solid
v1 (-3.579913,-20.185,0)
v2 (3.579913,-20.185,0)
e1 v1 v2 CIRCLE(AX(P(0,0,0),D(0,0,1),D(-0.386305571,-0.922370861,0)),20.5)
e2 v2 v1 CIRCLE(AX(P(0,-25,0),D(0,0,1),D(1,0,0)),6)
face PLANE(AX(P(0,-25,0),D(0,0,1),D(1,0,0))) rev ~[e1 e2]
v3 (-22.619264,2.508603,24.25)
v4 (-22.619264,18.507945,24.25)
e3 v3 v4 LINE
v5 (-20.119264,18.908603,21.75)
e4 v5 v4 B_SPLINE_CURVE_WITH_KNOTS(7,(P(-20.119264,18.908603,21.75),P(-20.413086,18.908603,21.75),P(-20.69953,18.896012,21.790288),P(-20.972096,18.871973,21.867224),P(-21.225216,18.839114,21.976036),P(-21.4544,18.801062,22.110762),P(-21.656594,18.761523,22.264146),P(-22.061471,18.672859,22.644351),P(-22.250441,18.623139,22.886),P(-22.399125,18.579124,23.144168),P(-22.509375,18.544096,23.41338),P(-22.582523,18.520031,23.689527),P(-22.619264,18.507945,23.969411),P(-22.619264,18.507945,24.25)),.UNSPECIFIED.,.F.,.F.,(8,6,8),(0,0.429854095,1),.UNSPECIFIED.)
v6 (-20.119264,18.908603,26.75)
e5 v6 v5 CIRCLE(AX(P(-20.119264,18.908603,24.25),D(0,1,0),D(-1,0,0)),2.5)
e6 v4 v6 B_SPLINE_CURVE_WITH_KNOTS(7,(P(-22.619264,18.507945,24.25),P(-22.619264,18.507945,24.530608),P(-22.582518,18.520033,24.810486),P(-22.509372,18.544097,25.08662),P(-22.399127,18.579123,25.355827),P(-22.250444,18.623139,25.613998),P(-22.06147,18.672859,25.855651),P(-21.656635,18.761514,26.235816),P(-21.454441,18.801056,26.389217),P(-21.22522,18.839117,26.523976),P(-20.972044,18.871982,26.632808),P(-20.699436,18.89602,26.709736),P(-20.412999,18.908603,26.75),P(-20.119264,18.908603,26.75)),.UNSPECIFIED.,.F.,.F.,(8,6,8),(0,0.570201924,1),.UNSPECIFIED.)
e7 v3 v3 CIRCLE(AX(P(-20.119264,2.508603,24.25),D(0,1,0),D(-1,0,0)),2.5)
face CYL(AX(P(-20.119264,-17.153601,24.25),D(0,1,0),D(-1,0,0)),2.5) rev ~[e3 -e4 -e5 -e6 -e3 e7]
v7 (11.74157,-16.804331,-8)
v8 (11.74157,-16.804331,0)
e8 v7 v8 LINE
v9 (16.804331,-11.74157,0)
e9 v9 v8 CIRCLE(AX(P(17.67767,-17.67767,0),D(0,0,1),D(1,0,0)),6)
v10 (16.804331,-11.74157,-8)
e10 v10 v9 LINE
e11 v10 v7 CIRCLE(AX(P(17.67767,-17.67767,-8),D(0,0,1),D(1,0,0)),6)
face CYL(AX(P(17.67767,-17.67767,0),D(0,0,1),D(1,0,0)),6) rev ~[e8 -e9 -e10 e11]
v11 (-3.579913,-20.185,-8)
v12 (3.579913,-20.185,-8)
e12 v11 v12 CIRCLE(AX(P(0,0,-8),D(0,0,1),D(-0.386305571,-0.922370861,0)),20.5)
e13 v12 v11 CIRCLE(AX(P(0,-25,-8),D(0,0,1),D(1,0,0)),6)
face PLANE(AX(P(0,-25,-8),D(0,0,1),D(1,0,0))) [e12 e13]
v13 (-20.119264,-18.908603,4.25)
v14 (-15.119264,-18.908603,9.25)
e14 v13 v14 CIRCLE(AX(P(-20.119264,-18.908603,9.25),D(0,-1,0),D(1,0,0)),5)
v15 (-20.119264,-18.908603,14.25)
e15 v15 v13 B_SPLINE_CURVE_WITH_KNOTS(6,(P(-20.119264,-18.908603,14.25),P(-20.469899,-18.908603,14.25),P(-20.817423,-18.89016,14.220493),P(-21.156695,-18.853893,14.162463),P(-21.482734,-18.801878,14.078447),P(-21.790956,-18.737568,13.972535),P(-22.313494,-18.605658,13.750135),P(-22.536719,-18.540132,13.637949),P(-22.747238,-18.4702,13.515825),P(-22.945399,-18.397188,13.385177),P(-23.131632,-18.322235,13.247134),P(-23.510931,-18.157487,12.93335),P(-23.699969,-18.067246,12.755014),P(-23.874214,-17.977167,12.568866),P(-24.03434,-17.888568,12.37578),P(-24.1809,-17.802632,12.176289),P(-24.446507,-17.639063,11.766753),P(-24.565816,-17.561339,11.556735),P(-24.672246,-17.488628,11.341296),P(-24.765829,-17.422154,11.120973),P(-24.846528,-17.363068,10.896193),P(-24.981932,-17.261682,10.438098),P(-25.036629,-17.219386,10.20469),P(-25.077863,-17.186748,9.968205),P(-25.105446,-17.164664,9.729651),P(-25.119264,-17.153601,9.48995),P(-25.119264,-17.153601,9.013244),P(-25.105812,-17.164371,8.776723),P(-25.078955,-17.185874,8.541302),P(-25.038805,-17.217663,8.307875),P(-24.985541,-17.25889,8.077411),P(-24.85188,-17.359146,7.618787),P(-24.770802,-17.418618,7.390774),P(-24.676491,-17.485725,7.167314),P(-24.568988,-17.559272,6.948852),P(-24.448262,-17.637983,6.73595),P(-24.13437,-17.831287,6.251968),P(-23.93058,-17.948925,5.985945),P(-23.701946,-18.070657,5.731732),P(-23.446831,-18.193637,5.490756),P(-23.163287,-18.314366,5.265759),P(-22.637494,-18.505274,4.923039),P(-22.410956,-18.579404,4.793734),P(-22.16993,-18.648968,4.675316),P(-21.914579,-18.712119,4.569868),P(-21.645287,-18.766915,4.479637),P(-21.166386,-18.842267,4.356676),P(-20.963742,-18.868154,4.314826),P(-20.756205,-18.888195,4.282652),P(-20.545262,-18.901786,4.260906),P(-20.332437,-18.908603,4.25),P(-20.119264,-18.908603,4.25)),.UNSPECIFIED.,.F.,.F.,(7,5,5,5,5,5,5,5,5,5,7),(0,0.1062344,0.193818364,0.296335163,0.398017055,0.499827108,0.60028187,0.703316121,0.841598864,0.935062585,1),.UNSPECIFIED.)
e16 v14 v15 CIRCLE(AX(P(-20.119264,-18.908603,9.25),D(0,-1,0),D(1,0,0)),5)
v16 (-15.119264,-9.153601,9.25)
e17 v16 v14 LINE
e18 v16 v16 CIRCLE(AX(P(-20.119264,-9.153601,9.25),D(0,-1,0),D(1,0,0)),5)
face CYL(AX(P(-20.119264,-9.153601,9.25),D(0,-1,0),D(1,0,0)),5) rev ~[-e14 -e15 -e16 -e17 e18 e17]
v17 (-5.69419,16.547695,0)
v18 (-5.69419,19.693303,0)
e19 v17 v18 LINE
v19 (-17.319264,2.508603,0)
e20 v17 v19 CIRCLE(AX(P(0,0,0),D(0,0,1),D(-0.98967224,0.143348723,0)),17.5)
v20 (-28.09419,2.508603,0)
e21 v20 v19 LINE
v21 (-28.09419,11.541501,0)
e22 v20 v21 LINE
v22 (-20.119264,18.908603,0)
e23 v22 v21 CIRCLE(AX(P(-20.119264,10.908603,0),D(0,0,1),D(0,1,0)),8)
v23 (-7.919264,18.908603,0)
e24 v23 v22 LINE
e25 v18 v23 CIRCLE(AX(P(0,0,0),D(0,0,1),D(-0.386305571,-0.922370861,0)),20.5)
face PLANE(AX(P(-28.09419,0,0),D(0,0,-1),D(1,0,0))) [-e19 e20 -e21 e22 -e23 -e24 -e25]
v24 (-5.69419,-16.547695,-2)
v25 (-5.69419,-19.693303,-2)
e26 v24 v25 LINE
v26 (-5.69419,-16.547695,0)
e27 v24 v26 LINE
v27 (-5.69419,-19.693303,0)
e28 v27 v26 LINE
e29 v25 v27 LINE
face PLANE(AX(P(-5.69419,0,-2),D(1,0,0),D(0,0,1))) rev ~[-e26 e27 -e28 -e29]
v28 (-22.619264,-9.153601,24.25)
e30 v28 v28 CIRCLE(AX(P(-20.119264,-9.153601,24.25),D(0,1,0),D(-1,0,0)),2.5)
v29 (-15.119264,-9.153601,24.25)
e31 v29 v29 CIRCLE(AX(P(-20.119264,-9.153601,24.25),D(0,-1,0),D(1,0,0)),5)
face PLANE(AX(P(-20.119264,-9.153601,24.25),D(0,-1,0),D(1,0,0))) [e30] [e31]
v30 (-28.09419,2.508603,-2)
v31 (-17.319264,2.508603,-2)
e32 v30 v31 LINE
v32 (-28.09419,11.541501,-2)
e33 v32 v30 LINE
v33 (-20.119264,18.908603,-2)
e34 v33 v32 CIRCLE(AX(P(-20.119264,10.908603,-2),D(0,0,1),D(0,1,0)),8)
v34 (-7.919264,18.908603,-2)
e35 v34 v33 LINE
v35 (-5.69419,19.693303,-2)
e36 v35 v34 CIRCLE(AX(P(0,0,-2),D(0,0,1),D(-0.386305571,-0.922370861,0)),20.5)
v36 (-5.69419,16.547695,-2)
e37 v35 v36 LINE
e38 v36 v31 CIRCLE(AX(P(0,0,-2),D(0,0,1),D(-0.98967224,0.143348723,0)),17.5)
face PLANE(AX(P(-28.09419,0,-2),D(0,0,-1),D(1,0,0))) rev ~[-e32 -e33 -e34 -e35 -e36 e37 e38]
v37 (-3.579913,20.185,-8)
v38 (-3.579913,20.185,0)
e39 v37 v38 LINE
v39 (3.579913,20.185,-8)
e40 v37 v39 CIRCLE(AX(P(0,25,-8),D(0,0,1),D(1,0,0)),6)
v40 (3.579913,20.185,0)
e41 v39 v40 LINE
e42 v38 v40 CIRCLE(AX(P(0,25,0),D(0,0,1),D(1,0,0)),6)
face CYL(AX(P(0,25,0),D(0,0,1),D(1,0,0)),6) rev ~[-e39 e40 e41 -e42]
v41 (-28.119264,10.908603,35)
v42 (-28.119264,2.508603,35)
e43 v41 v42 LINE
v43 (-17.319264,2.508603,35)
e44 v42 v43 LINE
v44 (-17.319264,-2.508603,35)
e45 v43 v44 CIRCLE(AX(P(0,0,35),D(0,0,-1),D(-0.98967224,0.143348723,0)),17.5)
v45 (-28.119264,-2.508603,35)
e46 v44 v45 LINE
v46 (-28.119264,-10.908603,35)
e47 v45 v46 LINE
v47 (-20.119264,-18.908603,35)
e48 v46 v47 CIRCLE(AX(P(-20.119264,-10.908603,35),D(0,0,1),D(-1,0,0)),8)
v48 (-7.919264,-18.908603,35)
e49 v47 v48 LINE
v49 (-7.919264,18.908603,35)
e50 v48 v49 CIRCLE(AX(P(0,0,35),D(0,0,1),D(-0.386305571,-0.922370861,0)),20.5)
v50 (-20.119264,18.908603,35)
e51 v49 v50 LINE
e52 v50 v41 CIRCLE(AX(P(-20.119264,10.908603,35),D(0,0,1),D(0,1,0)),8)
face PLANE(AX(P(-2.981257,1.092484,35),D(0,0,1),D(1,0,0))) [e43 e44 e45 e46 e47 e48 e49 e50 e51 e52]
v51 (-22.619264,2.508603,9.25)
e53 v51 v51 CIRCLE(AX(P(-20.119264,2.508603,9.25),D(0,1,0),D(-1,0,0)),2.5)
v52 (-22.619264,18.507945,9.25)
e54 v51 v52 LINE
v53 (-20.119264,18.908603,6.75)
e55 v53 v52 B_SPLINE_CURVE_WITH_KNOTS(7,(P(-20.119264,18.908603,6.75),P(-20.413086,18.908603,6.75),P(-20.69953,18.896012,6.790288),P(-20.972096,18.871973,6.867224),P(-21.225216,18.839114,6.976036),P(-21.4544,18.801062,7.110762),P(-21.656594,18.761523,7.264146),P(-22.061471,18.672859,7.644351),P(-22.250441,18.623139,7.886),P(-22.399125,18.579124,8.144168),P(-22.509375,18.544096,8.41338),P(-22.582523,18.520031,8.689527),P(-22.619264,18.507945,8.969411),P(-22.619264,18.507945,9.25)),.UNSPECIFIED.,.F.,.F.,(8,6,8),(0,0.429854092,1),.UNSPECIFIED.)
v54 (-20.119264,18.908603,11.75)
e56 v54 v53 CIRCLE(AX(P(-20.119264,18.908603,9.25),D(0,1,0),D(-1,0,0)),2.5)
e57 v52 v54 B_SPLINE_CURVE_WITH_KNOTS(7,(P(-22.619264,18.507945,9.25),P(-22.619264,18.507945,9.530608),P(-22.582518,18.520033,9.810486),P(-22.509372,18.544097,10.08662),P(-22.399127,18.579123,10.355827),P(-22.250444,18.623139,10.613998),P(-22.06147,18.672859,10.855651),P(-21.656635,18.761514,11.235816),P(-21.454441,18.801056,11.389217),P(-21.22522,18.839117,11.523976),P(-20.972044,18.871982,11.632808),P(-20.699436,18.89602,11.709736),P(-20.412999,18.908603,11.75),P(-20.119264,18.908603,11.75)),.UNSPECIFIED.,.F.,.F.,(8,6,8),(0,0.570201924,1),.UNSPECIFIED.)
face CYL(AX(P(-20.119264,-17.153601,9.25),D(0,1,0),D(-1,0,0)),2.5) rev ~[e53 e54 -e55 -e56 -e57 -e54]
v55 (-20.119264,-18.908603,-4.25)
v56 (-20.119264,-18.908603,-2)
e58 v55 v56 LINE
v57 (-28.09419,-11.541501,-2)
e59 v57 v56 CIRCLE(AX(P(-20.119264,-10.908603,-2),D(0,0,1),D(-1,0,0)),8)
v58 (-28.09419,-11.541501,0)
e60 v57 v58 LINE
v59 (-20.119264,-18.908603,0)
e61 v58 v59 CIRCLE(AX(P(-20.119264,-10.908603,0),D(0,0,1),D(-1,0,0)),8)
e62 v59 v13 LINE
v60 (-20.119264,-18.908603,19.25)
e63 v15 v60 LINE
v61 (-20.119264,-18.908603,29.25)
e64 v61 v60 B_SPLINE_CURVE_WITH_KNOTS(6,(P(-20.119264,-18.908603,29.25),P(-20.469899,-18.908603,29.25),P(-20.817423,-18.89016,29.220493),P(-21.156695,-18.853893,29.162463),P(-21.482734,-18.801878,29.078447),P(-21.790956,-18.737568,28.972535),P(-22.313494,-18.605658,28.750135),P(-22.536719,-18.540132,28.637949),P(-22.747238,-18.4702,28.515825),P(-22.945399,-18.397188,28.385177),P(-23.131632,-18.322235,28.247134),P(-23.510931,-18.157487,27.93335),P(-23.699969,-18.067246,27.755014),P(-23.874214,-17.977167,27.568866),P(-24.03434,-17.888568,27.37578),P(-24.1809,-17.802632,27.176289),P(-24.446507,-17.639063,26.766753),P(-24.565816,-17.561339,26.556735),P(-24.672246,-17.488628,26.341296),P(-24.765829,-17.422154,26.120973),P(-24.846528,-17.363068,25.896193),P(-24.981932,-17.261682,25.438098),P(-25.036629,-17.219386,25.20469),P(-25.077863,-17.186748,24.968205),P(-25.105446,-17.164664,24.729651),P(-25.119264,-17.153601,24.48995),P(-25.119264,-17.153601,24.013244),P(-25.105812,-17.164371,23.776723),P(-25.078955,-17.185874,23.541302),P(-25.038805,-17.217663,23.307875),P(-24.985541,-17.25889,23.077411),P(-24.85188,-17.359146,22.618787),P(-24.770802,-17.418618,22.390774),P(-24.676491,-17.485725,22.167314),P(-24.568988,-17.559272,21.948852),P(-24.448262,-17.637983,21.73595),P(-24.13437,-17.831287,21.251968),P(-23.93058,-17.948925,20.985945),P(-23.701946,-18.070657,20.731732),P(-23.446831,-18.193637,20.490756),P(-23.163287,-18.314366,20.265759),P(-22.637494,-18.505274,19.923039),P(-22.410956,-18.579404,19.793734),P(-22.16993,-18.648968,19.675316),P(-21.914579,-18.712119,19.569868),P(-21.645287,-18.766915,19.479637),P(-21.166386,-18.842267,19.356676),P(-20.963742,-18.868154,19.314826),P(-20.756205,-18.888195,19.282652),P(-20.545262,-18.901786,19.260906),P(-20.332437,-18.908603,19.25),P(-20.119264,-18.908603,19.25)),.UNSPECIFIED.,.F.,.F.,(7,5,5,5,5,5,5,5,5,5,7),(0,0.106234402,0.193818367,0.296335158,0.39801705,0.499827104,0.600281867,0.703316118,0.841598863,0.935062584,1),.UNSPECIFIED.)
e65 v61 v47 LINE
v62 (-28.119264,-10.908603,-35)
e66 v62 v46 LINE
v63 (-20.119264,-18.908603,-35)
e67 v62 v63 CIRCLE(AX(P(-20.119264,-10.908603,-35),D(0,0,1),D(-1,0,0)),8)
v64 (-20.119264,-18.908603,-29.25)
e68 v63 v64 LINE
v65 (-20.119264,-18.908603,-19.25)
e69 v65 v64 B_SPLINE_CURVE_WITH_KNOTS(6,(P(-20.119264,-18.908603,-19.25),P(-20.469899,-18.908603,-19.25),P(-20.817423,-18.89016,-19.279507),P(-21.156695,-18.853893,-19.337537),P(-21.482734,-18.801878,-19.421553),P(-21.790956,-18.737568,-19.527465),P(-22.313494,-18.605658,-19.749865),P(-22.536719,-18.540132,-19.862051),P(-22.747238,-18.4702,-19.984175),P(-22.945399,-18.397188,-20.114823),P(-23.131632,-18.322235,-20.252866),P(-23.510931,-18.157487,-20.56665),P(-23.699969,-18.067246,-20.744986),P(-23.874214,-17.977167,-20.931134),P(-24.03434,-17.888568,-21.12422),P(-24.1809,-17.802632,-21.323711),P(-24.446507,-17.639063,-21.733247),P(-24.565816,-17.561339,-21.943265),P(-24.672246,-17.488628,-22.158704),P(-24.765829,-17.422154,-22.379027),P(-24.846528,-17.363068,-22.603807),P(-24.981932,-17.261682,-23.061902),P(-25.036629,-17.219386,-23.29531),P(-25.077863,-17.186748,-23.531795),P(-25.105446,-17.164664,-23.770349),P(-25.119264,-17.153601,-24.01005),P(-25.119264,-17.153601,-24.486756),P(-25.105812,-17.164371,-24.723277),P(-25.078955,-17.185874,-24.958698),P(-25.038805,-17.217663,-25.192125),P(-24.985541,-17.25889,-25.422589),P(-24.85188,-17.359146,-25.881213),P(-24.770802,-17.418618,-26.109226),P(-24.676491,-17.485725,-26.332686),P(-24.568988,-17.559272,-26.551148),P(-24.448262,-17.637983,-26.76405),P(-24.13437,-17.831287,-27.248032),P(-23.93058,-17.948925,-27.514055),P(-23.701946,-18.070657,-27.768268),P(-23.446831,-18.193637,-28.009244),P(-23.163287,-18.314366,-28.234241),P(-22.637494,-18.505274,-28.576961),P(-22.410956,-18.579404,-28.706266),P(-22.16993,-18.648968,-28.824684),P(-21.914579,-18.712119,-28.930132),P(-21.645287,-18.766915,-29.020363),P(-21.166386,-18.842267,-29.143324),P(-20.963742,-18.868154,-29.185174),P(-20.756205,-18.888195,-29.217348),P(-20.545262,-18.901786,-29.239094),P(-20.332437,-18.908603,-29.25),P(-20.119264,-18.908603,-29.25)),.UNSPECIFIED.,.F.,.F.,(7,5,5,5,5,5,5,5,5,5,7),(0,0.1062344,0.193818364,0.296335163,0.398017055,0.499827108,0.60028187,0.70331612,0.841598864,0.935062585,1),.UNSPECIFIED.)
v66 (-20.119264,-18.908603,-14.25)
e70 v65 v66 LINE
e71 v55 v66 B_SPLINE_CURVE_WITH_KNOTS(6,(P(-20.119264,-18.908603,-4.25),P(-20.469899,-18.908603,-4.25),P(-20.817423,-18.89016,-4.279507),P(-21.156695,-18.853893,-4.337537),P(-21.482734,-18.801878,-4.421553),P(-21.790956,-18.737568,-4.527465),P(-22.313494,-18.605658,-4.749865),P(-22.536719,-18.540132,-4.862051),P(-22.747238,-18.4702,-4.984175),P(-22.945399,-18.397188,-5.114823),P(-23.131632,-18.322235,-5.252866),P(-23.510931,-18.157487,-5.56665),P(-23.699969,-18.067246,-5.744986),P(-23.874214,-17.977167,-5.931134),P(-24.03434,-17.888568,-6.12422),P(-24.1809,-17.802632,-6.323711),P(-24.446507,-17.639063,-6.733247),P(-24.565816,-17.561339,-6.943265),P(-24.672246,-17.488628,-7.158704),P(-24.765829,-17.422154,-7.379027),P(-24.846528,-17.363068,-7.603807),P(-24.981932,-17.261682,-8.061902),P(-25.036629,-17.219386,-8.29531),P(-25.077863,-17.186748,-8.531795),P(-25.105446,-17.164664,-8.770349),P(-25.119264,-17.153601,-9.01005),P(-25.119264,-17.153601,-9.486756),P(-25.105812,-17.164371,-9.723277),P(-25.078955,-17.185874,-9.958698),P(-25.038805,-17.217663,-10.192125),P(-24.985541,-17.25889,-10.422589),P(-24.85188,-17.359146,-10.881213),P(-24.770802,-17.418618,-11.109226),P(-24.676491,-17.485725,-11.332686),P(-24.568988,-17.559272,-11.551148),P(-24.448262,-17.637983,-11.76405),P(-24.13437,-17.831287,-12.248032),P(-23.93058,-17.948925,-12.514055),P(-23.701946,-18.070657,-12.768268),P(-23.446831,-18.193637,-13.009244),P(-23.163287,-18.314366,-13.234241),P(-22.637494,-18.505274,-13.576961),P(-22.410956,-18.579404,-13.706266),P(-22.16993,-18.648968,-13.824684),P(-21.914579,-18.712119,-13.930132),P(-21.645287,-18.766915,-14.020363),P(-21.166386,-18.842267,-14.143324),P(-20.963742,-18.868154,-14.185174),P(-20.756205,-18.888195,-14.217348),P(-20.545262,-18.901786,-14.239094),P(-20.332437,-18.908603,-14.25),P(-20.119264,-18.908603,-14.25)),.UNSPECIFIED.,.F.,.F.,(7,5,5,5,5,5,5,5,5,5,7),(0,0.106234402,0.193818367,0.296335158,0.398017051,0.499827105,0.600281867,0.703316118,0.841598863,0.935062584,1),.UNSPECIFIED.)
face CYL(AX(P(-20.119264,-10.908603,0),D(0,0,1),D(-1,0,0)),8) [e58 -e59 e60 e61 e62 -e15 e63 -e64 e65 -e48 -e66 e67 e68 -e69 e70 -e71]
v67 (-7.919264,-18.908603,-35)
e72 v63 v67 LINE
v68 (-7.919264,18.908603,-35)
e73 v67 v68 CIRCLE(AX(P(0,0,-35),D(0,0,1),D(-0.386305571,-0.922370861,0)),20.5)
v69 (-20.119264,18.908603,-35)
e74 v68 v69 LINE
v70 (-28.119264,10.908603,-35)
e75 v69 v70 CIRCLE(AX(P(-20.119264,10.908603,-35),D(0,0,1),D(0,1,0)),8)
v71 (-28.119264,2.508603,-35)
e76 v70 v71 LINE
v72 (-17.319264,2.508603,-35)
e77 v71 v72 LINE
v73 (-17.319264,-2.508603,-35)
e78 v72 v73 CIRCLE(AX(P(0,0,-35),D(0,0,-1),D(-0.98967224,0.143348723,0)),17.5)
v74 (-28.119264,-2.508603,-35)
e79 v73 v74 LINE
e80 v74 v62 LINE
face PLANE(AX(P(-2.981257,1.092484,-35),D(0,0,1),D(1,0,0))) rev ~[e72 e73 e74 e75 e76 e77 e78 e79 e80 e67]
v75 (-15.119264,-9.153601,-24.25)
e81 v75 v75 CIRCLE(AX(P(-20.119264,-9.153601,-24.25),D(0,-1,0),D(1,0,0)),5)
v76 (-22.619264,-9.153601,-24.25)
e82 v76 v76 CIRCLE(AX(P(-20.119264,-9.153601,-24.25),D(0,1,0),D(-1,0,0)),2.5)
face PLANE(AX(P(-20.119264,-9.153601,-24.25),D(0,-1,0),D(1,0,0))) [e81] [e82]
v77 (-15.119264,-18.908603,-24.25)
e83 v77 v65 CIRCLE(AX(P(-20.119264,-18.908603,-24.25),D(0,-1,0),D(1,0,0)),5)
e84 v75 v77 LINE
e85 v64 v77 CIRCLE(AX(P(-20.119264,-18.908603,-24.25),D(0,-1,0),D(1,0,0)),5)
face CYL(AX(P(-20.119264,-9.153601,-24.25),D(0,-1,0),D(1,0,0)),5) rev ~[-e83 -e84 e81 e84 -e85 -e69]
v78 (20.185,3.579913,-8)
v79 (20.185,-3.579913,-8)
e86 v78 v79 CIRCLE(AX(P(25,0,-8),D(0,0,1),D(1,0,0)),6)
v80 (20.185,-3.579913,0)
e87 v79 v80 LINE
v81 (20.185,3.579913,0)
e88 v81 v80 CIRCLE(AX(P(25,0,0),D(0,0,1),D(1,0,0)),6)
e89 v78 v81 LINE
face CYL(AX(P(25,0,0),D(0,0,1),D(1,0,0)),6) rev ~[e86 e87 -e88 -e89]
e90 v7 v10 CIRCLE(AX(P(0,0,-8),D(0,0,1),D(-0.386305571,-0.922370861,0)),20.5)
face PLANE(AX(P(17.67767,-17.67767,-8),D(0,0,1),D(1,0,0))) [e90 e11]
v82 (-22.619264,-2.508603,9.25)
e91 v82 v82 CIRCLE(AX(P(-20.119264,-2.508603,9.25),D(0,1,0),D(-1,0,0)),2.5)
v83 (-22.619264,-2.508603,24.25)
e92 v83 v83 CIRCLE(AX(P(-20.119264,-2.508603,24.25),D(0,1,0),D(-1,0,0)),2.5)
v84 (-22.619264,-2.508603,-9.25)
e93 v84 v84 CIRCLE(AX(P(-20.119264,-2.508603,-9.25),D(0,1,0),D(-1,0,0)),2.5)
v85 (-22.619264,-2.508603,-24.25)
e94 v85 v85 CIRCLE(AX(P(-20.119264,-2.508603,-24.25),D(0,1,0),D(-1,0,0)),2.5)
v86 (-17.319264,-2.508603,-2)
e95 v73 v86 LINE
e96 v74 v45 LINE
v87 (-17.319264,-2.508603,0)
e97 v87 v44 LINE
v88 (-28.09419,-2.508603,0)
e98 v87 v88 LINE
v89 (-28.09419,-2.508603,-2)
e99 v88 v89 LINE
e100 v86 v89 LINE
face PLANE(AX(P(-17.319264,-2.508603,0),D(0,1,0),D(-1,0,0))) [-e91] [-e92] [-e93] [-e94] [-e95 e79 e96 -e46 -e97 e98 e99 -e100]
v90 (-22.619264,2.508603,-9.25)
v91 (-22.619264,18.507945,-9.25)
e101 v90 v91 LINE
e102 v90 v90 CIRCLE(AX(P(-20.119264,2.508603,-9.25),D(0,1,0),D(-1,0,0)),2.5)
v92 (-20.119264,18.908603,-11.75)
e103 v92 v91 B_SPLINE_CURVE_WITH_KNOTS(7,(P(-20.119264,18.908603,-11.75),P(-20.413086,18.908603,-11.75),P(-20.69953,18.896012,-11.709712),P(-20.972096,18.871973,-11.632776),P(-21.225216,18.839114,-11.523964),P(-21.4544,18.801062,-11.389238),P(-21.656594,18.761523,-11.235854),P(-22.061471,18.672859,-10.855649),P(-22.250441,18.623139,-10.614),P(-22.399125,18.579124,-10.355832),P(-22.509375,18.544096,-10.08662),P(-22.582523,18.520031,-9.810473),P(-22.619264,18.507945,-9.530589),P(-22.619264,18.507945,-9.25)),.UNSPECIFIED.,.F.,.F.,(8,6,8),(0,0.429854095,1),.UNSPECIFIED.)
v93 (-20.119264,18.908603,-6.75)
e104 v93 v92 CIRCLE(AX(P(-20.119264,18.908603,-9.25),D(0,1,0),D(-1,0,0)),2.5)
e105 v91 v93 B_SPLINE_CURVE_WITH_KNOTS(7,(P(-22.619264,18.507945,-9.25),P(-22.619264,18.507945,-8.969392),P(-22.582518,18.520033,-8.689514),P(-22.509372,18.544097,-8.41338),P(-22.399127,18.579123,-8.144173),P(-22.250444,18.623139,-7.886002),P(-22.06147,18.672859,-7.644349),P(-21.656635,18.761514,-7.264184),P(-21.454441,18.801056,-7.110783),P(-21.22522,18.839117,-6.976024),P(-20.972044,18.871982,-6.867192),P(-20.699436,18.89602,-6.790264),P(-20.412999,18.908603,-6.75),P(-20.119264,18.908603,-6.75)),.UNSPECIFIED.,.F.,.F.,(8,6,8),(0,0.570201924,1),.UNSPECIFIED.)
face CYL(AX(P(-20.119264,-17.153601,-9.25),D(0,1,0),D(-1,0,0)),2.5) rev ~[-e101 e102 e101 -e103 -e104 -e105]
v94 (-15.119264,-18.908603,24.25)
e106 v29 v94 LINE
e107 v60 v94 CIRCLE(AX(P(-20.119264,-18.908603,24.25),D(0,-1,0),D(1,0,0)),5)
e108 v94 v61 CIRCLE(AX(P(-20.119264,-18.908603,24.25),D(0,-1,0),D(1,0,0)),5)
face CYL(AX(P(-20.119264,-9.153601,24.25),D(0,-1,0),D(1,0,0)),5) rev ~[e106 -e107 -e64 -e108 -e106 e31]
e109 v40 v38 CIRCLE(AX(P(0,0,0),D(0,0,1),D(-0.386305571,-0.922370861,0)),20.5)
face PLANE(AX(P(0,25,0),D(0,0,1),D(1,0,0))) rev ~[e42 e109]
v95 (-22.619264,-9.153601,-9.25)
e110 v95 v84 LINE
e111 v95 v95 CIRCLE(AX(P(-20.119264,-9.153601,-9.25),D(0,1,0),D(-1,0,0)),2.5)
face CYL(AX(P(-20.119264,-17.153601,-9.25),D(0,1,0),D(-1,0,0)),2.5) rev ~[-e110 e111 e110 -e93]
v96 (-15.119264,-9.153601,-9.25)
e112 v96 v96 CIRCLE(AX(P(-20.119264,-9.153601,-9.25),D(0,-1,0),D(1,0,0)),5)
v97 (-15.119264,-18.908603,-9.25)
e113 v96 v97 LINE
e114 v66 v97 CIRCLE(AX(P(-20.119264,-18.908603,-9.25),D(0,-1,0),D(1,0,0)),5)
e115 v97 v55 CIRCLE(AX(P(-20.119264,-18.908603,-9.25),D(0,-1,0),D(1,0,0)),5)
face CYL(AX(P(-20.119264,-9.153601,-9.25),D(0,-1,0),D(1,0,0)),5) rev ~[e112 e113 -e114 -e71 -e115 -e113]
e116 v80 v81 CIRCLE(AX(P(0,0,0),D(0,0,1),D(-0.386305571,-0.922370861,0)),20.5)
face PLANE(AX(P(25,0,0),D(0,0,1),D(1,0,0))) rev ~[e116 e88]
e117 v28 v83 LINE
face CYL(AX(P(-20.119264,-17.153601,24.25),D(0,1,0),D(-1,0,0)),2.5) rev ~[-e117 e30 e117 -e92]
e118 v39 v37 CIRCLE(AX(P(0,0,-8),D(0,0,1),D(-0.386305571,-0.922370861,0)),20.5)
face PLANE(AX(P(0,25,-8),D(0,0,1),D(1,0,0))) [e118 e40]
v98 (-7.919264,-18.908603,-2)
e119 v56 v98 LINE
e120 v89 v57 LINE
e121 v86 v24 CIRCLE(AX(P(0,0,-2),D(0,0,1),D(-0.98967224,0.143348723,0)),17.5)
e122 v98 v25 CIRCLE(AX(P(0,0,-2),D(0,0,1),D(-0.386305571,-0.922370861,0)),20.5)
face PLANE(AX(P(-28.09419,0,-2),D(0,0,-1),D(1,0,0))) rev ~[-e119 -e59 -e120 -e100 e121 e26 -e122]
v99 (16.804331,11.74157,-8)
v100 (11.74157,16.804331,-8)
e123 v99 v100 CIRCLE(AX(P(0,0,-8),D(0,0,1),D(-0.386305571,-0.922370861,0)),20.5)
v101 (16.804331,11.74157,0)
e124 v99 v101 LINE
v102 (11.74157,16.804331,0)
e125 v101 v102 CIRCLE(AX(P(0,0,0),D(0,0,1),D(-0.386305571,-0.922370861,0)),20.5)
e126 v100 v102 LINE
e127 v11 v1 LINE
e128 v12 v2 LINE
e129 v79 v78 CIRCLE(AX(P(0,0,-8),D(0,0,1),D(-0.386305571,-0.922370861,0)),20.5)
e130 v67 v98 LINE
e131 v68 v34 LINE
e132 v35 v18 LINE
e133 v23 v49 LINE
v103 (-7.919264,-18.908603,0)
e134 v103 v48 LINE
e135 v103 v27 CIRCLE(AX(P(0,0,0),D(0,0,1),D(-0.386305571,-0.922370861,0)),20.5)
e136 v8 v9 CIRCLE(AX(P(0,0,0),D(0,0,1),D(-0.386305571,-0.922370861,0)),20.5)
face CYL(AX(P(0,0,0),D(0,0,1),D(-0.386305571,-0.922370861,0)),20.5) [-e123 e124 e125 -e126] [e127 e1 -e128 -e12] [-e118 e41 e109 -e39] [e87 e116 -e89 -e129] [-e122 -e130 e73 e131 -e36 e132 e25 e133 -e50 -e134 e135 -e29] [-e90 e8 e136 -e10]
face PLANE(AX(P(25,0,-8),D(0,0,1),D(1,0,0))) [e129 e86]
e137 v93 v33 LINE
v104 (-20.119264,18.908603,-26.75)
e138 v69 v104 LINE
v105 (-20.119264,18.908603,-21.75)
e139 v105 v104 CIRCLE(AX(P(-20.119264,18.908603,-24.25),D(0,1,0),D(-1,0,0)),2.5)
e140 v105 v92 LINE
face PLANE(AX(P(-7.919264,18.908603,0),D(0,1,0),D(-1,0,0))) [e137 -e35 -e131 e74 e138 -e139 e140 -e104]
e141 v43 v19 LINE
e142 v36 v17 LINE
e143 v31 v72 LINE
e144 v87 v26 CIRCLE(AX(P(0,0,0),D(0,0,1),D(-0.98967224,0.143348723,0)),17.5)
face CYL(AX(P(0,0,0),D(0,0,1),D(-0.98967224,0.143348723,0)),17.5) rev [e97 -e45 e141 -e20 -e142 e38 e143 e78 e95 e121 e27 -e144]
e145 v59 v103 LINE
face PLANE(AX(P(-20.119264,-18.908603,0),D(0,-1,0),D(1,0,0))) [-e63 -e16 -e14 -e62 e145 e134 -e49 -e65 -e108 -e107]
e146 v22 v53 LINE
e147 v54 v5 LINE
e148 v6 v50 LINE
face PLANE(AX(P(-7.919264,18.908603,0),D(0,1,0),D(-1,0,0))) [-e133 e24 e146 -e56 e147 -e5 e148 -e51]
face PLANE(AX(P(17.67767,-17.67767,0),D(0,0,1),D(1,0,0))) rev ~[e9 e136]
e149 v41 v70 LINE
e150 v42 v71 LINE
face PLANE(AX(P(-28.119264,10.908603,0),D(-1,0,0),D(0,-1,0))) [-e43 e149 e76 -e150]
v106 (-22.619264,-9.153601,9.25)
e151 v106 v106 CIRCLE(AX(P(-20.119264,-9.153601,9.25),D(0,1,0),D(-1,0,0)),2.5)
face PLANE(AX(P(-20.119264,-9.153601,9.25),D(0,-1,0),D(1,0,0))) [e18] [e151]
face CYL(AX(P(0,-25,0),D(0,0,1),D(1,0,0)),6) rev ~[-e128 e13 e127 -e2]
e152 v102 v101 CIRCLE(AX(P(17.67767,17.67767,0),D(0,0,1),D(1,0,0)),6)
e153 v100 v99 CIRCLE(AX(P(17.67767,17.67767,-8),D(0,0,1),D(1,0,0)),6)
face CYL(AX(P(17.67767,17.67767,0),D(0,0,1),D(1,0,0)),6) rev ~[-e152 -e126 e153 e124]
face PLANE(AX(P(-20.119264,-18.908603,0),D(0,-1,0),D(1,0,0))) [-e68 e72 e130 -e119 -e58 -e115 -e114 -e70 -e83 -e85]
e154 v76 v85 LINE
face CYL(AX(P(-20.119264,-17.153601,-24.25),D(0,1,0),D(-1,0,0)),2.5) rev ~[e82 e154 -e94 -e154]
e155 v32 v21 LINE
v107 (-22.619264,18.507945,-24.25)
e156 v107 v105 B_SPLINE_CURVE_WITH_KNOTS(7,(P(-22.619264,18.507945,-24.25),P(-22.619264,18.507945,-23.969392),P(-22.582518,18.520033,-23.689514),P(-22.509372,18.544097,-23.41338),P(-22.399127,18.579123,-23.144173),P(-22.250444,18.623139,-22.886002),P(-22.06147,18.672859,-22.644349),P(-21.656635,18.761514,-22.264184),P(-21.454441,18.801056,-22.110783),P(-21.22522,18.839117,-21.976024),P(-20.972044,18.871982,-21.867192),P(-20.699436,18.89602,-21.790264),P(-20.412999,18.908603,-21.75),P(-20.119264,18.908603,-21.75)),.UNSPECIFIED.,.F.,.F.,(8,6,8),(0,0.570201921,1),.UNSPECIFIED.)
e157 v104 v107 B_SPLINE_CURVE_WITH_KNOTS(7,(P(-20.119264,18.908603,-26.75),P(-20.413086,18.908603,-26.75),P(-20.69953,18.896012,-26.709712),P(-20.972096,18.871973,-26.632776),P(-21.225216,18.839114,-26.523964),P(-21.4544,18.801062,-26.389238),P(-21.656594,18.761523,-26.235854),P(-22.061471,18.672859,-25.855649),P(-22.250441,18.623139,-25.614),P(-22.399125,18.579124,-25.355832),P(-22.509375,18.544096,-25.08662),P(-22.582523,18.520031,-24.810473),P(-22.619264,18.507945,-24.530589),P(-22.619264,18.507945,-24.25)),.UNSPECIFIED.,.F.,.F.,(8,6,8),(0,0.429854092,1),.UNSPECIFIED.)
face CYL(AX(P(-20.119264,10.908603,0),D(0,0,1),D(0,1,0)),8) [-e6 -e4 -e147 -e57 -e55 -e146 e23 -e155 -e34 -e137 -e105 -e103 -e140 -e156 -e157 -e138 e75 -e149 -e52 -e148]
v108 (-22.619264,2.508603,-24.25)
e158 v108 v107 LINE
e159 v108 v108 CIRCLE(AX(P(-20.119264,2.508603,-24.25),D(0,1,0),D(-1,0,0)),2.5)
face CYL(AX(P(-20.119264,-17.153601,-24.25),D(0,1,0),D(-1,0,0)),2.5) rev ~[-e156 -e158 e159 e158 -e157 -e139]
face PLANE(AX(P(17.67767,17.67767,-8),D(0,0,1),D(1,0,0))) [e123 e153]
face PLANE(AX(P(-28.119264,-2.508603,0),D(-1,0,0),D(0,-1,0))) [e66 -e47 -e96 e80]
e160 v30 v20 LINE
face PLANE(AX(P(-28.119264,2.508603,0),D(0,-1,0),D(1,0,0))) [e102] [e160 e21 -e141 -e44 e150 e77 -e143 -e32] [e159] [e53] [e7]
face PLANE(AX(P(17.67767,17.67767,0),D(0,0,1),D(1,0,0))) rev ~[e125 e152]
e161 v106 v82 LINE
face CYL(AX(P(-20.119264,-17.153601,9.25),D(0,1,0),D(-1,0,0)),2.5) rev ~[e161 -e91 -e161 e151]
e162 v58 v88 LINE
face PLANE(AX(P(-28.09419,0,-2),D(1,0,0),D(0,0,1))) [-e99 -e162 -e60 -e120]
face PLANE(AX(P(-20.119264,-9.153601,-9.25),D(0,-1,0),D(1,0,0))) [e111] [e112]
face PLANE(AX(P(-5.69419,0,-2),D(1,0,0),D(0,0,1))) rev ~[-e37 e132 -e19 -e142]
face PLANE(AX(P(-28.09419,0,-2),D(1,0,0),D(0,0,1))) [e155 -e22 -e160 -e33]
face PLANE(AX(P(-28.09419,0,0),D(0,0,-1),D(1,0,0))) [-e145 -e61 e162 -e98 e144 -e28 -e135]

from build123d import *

# Parameters (mm, degrees)
F1_DEPTH       = 35
F3_D           = 5
F3_START       = 1.7550021
F3_CBORE_D     = 10
F3_CBORE_DEPTH = 8
F4_W           = 22.4
F4_H           = 2
F5_DEPTH       = 25
F6_R           = 6
F7_DEPTH       = 8


with BuildPart() as f1:
    # F0 (on Top) → F1 (new body, symmetric)
    with BuildSketch(Plane.XY):
        with BuildLine():
            ThreePointArc((-17.3192642082, 2.5086026559), (17.5, 0), (-17.3192642082, -2.5086026559))
            Line((-17.3192642082, -2.5086026559), (-20.3459311096, -2.5086026559))
            ThreePointArc((-20.3459311096, -2.5086026559), (-16.3392263155, -12.3806172468), (-7.9192642082, -18.9086026559))
            ThreePointArc((-7.9192642082, -18.9086026559), (20.5, 0), (-7.9192642082, 18.9086026559))
            Line((-7.9192642082, 18.9086026559), (-20.1192642082, 18.9086026559))
            ThreePointArc((-20.1192642082, 18.9086026559), (-25.7761184577, 16.5654569054), (-28.1192642082, 10.9086026559))
            Line((-28.1192642082, 10.9086026559), (-28.1192642082, 2.5086026559))
            Line((-28.1192642082, 2.5086026559), (-17.3192642082, 2.5086026559))
        make_face()
        with BuildLine():
            ThreePointArc((-7.9192642082, -18.9086026559), (-16.3392263155, -12.3806172468), (-20.3459311096, -2.5086026559))
            Line((-20.3459311096, -2.5086026559), (-28.1192642082, -2.5086026559))
            Line((-28.1192642082, -2.5086026559), (-28.1192642082, -10.9086026559))
            ThreePointArc((-28.1192642082, -10.9086026559), (-25.7761184577, -16.5654569054), (-20.1192642082, -18.9086026559))
            Line((-20.1192642082, -18.9086026559), (-7.9192642082, -18.9086026559))
        make_face()
    extrude(amount=F1_DEPTH, both=True)

    # F3 (through all)
    # its depths count from where the whole tool has entered the part; down to there all is cleared
    with Locations(Plane.XZ.offset(18.9086026559).offset(-F3_START)):
        with Locations((-20.1192642082, -24.25), (-20.1192642082, -9.25), (-20.1192642082, 9.25), (-20.1192642082, 24.25)):
            CounterBoreHole(F3_D / 2, F3_CBORE_D / 2, F3_CBORE_DEPTH)

    # F4 (on Front) → F5 (cut, symmetric)
    with BuildSketch(Plane.XZ):
        with Locations((-16.8941898715, -1)):
            Rectangle(F4_W, F4_H)
    extrude(amount=F5_DEPTH, both=True, mode=Mode.SUBTRACT)

    # F6 (on Top) → F7 (cut)
    with BuildSketch(Plane.XY):
        with Locations((0, -25)):
            Circle(F6_R)
        with Locations((17.6776695297, -17.6776695297)):
            Circle(F6_R)
        with Locations((25, 0)):
            Circle(F6_R)
        with Locations((17.6776695297, 17.6776695297)):
            Circle(F6_R)
        with Locations((0, 25)):
            Circle(F6_R)
    extrude(amount=-F7_DEPTH, mode=Mode.SUBTRACT)


solid = f1.part
